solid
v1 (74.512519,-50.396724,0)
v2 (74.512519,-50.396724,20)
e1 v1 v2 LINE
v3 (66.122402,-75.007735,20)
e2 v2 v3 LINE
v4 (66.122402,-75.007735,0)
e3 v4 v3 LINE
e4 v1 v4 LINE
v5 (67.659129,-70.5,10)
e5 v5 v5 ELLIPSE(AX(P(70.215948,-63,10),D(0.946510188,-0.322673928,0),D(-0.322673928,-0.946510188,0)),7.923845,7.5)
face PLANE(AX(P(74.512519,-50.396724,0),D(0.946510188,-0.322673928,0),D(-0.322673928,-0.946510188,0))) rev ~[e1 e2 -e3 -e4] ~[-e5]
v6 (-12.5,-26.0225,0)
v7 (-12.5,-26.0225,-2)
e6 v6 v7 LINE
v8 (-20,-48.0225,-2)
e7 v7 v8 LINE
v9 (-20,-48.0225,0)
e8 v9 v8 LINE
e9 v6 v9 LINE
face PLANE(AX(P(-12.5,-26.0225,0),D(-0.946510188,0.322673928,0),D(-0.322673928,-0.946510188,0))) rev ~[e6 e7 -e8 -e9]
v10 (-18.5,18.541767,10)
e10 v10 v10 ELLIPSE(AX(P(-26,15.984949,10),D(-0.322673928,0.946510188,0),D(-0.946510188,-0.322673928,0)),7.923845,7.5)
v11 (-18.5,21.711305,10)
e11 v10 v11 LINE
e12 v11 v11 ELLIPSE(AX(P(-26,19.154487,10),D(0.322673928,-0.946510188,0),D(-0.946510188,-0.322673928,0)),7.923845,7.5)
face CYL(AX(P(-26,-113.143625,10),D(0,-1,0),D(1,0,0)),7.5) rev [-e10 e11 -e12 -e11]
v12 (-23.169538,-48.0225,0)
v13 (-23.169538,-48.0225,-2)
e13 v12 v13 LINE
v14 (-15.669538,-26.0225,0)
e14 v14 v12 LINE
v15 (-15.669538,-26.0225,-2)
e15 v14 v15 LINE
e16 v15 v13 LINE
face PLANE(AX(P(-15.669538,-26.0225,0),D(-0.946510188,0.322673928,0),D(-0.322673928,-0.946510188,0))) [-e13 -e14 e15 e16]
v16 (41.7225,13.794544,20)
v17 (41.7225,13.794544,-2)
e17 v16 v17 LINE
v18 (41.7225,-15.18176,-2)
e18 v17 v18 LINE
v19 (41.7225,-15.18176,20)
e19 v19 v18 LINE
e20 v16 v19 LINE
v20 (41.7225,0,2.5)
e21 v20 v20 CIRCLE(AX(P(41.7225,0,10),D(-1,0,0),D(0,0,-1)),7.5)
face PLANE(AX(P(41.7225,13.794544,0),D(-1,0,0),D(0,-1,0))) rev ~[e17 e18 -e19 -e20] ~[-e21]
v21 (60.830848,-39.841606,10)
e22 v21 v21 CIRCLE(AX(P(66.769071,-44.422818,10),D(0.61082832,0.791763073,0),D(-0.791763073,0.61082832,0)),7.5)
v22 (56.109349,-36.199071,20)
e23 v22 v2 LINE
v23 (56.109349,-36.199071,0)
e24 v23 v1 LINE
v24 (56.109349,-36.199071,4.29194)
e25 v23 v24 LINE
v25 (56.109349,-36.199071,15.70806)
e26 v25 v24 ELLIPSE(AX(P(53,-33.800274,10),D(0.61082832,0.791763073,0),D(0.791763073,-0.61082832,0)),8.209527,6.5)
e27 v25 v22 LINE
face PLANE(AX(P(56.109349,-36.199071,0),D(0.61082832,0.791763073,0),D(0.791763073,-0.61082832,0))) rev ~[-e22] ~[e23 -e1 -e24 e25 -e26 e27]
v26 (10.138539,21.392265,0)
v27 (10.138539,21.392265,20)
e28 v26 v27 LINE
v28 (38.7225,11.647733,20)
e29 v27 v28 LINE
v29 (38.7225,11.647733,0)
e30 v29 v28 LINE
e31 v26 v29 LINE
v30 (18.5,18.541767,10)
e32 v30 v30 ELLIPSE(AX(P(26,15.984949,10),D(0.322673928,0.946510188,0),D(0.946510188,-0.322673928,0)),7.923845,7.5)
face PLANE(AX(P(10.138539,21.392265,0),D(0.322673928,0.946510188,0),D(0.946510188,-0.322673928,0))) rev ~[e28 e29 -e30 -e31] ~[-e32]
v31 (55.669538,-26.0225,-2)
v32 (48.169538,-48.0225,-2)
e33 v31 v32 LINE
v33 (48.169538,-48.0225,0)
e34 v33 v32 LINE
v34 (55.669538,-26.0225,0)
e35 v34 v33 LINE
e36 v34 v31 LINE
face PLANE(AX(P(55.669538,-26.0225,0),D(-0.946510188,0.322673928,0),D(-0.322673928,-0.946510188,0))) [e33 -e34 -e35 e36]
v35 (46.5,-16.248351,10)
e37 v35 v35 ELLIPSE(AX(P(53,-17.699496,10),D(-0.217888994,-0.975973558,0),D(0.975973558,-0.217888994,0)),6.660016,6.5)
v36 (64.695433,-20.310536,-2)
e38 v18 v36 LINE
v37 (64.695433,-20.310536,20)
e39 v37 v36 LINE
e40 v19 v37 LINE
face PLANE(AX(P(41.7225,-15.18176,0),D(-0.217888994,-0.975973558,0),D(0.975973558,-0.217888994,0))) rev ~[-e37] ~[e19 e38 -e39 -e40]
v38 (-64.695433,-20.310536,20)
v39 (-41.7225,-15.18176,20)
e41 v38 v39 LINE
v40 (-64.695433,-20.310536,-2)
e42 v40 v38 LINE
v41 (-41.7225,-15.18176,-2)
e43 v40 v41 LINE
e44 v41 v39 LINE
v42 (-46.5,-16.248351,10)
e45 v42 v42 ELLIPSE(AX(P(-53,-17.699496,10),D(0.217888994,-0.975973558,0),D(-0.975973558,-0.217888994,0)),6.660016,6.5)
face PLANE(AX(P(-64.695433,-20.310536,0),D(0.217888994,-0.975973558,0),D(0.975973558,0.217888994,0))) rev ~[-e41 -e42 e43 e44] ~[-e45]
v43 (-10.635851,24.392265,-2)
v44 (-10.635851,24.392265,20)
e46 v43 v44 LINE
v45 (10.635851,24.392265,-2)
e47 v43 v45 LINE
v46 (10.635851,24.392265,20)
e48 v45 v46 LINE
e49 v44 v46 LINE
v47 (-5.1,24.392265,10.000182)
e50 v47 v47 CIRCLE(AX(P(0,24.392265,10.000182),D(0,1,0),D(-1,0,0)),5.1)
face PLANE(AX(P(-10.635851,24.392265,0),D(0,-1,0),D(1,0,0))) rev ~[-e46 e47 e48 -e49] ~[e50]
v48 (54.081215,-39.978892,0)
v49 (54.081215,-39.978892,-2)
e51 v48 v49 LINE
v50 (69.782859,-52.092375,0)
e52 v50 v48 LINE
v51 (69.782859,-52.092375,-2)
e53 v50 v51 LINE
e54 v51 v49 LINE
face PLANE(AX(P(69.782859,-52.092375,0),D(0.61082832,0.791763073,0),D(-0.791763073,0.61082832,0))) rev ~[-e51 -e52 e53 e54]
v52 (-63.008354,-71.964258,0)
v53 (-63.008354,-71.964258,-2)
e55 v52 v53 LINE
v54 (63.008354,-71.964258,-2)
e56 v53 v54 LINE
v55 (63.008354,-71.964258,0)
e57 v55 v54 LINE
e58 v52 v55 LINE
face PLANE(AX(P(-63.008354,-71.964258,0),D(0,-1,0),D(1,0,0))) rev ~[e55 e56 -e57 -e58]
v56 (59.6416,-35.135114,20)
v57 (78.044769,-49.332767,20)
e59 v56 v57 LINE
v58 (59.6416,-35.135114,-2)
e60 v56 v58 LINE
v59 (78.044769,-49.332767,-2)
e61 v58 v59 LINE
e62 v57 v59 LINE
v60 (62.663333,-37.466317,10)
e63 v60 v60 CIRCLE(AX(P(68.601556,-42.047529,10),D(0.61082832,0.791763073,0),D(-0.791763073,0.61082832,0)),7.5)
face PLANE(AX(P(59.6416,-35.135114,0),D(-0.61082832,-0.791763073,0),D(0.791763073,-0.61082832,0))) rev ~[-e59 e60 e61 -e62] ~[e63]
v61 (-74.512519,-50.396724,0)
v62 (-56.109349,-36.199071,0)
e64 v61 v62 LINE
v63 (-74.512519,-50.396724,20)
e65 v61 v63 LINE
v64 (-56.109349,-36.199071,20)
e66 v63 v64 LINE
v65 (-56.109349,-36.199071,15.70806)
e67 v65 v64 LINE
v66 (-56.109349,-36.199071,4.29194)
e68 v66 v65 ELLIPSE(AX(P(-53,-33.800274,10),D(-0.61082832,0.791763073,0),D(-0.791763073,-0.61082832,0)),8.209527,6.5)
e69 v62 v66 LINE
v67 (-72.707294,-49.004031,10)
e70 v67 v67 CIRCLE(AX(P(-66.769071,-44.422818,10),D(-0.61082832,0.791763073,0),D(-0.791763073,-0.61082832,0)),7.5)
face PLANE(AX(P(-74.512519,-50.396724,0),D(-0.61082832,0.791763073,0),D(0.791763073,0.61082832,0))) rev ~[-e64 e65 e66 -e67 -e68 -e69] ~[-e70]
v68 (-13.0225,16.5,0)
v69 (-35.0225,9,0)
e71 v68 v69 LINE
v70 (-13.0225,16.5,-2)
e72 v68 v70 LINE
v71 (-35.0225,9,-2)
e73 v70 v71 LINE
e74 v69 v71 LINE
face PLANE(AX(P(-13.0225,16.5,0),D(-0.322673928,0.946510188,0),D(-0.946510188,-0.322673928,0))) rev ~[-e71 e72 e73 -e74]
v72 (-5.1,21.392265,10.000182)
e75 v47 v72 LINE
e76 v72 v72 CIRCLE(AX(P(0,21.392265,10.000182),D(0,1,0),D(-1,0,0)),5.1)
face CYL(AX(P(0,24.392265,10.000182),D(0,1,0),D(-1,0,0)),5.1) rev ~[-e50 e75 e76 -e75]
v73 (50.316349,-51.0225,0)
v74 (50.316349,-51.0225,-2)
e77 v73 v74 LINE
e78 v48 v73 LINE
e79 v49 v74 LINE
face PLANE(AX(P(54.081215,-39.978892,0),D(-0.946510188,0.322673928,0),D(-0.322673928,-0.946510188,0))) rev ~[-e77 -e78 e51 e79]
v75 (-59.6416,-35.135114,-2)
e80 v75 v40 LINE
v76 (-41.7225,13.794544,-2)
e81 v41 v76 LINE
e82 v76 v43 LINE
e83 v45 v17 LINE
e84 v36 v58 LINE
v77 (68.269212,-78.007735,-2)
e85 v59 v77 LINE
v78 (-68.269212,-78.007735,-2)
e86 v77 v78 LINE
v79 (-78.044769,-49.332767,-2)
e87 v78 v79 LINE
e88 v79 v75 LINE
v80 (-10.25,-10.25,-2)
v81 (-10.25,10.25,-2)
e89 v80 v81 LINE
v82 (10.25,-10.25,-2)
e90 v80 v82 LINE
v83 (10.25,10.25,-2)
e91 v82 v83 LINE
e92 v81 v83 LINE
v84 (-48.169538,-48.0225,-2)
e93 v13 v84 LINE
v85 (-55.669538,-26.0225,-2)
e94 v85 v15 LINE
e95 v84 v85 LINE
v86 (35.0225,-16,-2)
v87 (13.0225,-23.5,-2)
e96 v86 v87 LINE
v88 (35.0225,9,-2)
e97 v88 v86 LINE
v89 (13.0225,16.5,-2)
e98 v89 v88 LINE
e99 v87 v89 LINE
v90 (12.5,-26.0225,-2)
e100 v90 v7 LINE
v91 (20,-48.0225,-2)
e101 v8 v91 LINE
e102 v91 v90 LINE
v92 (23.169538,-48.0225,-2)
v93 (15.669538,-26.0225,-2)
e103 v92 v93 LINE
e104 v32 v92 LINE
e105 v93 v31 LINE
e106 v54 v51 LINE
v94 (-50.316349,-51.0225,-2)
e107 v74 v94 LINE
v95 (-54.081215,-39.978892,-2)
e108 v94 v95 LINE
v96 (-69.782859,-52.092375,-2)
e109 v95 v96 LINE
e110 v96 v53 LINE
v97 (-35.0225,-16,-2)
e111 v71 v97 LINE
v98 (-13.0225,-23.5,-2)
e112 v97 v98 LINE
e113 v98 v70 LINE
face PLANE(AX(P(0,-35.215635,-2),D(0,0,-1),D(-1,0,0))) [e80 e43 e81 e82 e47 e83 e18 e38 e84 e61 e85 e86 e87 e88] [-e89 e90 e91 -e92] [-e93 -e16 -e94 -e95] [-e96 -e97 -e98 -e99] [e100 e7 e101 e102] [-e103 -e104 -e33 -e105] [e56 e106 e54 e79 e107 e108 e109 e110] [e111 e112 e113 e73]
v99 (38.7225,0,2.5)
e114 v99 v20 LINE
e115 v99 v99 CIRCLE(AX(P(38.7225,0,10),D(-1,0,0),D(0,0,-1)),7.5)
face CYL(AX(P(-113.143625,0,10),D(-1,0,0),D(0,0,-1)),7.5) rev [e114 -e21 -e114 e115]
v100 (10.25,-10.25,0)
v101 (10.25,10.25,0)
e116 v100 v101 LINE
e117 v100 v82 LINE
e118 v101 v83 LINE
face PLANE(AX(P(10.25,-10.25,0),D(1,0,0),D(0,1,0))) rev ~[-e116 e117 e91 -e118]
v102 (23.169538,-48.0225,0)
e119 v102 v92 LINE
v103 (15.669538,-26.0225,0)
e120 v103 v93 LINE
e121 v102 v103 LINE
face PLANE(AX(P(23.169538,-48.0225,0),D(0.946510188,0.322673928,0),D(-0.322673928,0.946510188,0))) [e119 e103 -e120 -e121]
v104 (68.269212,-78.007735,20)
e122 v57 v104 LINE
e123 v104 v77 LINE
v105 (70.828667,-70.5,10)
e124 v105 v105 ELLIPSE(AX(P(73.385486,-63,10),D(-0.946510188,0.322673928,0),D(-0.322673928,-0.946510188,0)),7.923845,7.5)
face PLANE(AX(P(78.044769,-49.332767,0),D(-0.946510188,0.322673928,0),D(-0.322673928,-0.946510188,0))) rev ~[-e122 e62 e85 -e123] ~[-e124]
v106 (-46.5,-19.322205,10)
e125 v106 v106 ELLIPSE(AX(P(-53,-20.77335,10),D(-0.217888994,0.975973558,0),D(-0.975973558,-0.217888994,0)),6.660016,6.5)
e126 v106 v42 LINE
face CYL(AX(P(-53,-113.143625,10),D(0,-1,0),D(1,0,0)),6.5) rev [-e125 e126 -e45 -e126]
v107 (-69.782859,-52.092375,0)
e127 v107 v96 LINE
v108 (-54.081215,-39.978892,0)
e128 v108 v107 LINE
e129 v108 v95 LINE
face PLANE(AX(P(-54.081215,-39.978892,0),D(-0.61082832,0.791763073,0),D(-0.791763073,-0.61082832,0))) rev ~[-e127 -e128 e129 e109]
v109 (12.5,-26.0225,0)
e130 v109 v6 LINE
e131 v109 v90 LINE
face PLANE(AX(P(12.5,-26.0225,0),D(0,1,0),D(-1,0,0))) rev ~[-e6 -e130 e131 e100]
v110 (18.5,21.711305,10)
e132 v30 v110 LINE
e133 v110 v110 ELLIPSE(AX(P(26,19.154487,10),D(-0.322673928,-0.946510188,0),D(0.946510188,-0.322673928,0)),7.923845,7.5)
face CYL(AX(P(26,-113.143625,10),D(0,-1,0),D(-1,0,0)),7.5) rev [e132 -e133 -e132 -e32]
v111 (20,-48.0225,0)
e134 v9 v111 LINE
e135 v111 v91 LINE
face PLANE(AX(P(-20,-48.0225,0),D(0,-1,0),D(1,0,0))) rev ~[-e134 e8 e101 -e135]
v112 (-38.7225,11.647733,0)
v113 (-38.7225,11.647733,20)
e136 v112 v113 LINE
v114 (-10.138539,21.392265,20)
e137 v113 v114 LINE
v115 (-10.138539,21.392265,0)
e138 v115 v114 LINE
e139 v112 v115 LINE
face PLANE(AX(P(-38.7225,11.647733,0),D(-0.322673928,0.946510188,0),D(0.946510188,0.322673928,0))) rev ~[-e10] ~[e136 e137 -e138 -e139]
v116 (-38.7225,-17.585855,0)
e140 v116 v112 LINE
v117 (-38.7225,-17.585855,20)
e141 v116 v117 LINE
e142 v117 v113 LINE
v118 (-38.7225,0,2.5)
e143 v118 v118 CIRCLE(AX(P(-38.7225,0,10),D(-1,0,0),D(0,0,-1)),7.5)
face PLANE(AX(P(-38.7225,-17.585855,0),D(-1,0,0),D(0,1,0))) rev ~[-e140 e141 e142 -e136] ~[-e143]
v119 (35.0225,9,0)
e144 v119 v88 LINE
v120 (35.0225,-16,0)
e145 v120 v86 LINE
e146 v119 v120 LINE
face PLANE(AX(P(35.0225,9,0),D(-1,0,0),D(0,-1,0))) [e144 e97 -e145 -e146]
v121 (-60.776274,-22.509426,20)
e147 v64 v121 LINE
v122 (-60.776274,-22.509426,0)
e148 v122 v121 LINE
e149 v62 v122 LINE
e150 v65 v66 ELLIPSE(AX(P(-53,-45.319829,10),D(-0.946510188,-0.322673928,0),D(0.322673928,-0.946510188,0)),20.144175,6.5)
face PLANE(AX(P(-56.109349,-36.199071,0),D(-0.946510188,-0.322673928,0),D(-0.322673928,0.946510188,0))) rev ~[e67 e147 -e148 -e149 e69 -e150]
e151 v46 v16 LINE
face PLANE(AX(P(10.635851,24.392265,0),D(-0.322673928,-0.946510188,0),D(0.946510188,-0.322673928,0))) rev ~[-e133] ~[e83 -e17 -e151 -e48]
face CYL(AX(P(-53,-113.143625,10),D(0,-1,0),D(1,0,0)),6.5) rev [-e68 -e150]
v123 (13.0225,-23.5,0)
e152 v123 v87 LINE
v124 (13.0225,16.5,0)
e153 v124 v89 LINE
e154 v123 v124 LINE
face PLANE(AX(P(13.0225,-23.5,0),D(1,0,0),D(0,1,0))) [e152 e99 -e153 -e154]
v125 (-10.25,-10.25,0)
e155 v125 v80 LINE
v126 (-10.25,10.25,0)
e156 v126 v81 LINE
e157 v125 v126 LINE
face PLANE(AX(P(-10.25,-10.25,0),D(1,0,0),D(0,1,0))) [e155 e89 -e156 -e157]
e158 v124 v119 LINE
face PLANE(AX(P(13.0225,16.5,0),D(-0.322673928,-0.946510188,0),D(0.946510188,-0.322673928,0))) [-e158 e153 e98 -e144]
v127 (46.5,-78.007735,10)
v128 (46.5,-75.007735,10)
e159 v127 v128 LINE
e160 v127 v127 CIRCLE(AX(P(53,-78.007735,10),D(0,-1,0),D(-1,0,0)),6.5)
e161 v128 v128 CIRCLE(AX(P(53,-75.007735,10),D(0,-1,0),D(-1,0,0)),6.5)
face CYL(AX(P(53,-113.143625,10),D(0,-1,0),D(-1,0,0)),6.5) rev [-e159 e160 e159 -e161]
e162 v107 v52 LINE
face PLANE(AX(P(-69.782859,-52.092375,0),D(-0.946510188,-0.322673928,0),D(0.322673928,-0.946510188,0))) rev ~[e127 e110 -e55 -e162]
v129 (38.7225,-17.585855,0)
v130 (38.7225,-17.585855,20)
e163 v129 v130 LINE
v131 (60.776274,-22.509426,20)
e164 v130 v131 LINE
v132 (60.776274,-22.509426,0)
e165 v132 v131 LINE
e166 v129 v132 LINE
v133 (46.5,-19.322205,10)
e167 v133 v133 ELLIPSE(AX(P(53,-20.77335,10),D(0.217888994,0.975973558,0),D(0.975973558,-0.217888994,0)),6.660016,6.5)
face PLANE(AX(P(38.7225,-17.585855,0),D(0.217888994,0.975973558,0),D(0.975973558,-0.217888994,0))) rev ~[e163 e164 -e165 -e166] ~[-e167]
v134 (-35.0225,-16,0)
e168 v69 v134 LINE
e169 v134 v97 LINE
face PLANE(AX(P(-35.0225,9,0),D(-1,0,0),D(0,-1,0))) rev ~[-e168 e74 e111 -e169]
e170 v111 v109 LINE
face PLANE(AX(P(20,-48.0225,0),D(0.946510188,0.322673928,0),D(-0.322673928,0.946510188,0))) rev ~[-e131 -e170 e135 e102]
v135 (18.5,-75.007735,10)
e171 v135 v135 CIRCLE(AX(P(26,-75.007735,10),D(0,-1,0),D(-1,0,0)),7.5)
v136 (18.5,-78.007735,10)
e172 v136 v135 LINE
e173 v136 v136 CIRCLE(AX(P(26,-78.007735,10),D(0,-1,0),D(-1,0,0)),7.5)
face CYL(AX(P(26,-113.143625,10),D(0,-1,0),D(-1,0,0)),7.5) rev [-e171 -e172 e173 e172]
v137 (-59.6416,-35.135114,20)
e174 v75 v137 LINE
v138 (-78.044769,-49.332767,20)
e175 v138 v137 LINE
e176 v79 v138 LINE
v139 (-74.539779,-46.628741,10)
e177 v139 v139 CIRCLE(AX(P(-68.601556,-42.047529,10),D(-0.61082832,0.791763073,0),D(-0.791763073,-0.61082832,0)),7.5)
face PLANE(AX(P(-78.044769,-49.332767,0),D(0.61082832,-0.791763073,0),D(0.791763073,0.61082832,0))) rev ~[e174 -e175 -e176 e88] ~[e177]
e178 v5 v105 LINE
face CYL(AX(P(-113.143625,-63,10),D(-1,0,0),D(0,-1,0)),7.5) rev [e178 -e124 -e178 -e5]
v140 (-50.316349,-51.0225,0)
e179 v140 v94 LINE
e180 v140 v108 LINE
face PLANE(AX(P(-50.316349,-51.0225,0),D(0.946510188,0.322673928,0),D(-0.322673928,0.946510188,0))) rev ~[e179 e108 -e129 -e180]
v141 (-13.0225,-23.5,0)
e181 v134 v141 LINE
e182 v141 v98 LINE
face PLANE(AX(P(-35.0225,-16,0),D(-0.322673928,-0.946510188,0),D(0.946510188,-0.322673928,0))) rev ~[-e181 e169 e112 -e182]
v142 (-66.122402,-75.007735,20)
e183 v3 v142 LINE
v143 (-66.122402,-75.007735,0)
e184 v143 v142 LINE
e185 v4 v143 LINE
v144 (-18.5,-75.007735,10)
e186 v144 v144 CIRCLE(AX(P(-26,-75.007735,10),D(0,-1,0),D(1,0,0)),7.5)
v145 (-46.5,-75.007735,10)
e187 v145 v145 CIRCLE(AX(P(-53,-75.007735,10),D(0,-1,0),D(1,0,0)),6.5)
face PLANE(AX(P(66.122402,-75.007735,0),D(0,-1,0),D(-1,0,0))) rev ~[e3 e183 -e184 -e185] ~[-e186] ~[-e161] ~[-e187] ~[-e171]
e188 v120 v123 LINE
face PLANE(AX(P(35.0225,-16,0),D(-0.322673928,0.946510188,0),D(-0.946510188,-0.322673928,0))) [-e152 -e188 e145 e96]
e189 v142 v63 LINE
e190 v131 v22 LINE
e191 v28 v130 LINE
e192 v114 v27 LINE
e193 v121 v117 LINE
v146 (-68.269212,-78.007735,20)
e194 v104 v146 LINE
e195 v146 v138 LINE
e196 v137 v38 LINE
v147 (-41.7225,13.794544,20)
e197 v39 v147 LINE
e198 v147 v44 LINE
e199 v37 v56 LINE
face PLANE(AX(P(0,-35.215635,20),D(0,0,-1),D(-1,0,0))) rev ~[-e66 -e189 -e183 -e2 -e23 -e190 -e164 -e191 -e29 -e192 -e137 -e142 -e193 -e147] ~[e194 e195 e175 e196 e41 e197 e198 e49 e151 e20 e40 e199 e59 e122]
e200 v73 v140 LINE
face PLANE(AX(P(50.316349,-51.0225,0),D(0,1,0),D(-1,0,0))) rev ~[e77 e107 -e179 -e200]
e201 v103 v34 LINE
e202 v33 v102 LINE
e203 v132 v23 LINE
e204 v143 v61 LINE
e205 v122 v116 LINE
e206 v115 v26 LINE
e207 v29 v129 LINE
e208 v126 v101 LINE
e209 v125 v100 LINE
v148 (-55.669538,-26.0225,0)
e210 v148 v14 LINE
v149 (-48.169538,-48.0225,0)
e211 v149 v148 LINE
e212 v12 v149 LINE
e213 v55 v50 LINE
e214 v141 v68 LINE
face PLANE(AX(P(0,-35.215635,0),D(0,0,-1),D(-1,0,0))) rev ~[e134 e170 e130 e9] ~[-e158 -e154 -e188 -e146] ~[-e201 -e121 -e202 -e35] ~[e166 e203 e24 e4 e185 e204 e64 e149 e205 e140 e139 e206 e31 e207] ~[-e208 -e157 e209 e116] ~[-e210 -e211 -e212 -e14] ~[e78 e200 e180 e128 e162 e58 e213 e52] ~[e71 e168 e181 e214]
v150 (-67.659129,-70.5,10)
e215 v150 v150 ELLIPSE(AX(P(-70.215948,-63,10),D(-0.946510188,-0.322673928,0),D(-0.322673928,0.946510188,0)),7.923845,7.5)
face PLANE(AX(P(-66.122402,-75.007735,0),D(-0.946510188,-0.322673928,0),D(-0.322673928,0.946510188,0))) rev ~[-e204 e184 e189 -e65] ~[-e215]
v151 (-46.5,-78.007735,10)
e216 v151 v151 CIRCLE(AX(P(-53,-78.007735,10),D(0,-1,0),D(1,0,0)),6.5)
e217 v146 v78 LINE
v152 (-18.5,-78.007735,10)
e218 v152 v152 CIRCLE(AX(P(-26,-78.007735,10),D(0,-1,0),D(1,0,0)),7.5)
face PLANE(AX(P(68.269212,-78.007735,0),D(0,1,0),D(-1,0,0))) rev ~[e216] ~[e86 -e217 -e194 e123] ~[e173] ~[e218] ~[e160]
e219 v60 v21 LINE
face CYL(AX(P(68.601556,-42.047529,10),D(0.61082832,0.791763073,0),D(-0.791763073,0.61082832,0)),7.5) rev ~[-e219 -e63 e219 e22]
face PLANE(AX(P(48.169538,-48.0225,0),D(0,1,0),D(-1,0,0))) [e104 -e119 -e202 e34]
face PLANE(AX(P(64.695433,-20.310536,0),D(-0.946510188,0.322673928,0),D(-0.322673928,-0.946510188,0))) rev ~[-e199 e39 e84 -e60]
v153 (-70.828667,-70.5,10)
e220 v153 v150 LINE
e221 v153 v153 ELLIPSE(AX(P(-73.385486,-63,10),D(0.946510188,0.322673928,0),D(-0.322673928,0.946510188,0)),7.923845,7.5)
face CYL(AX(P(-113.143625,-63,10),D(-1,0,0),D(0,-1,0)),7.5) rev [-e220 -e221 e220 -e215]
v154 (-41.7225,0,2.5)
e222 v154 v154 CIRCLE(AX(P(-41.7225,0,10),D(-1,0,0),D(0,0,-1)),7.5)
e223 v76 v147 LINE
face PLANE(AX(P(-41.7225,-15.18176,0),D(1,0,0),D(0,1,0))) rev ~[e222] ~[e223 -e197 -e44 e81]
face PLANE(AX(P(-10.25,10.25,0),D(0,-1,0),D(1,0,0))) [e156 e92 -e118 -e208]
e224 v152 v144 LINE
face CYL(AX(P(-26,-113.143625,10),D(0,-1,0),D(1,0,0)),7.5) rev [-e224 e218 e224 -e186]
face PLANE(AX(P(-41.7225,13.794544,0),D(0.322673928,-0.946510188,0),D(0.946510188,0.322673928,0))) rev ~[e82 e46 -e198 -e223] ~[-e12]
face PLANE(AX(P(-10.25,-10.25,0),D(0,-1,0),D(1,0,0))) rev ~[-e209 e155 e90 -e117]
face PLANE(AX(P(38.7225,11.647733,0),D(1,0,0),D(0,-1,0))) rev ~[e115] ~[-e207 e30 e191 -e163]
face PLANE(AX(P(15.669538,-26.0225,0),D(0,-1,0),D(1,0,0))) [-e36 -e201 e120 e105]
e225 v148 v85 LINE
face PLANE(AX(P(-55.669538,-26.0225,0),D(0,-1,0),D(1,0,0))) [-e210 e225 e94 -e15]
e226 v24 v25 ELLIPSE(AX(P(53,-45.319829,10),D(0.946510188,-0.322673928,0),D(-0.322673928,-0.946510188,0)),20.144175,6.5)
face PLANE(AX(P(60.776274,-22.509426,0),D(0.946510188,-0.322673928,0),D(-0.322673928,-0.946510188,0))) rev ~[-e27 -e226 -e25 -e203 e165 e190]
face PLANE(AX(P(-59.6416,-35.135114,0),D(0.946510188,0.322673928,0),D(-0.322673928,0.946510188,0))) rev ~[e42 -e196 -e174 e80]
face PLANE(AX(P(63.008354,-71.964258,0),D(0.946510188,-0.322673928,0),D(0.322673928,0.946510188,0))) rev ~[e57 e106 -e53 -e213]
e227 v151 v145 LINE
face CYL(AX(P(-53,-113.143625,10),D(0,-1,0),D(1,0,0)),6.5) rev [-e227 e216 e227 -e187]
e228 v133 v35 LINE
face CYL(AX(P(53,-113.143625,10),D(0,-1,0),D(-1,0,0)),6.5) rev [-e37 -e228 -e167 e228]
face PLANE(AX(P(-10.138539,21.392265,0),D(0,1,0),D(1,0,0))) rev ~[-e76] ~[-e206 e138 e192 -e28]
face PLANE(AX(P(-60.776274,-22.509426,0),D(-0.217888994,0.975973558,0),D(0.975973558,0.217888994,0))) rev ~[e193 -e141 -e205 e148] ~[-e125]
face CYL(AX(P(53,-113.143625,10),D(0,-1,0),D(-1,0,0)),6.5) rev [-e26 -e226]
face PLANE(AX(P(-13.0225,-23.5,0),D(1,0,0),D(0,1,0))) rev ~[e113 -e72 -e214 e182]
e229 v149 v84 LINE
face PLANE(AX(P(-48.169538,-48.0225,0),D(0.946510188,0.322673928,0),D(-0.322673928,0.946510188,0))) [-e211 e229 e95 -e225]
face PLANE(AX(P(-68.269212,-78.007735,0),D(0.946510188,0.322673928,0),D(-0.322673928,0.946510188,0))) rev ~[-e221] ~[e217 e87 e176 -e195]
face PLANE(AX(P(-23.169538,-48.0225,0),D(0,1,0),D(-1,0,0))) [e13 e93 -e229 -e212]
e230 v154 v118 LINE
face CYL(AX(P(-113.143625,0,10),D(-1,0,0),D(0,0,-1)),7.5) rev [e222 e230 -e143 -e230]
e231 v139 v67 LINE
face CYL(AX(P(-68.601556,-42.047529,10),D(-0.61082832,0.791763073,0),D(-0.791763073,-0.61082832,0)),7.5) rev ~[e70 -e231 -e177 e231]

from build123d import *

# Parameters (mm, degrees)
EXTRUDE_THIN3_DEPTH     = 20
SKETCH5_W               = 20.5
SKETCH5_H               = 20.5
BOSS_EXTRUDE2_DEPTH     = 2
SKETCH6_R               = 5.1
CUT_EXTRUDE1_DEPTH      = 5
CUT_EXTRUDE2_DEPTH      = 113.143625411
CUT_EXTRUDE2_DEPTH_BACK = 113.143625411
SKETCH7_R               = 7.5
SKETCH7_R_2             = 6.5
CUT_EXTRUDE3_DEPTH      = 113.143625411
CUT_EXTRUDE3_DEPTH_BACK = 113.143625411
SKETCH8_R               = 7.5
SKETCH9_R               = 7.5
CUT_EXTRUDE4_DEPTH      = 5
SKETCH10_R              = 7.5
CUT_EXTRUDE5_DEPTH      = 5


with BuildPart() as part:
    # Sketch4 → Extrude-Thin3 (new body)
    with BuildSketch(Plane.XY):
        Polygon((68.26921232, -78.007734737), (-68.26921232, -78.007734737), (-78.04476947, -49.332767098), (-59.641599788, -35.135114275), (-64.69543331, -20.310535944), (-41.7225, -15.181760387), (-41.7225, 13.794543937), (-10.635850775, 24.392265263), (10.635850775, 24.392265263), (41.7225, 13.794543937), (41.7225, -15.181760387), (64.69543331, -20.310535944), (59.641599788, -35.135114275), (78.04476947, -49.332767098), align=None)
        Polygon((66.122401602, -75.007734737), (-66.122401602, -75.007734737), (-74.512519059, -50.396723531), (-56.109349377, -36.199070708), (-60.776273805, -22.509425719), (-38.7225, -17.58585525), (-38.7225, 11.647733219), (-10.138539336, 21.392265263), (10.138539336, 21.392265263), (38.7225, 11.647733219), (38.7225, -17.58585525), (60.776273805, -22.509425719), (56.109349377, -36.199070708), (74.512519059, -50.396723531), align=None, mode=Mode.SUBTRACT)
    extrude(amount=EXTRUDE_THIN3_DEPTH)

    # Sketch5 → Boss-Extrude2 (add)
    with BuildSketch(Plane.XY):
        Polygon((10.635850775, 24.392265263), (41.7225, 13.794543937), (41.7225, -15.181760387), (64.69543331, -20.310535944), (59.641599788, -35.135114275), (78.04476947, -49.332767098), (68.26921232, -78.007734737), (-68.26921232, -78.007734737), (-78.04476947, -49.332767098), (-59.641599788, -35.135114275), (-64.69543331, -20.310535944), (-41.7225, -15.181760387), (-41.7225, 13.794543937), (-10.635850775, 24.392265263), align=None)
        Rectangle(SKETCH5_W, SKETCH5_H, mode=Mode.SUBTRACT)
        Polygon((55.669537991, -26.0225), (48.169537991, -48.0225), (23.169537991, -48.0225), (15.669537991, -26.0225), align=None, mode=Mode.SUBTRACT)
        Polygon((-20, -48.0225), (20, -48.0225), (12.5, -26.0225), (-12.5, -26.0225), align=None, mode=Mode.SUBTRACT)
        Polygon((-15.669537991, -26.0225), (-23.169537991, -48.0225), (-48.169537991, -48.0225), (-55.669537991, -26.0225), align=None, mode=Mode.SUBTRACT)
        Polygon((13.0225, 16.5), (35.0225, 9), (35.0225, -16), (13.0225, -23.5), align=None, mode=Mode.SUBTRACT)
        Polygon((-35.0225, -16), (-13.0225, -23.5), (-13.0225, 16.5), (-35.0225, 9), align=None, mode=Mode.SUBTRACT)
        Polygon((-54.081215036, -39.978892106), (-69.782858952, -52.092375431), (-63.008353643, -71.964257668), (63.008353643, -71.964257668), (69.782858952, -52.092375431), (54.081215036, -39.978892106), (50.316348709, -51.0225), (-50.316348709, -51.0225), align=None, mode=Mode.SUBTRACT)
    extrude(amount=-BOSS_EXTRUDE2_DEPTH)

    # Sketch6 → Cut-Extrude1 (cut)
    with BuildSketch(Plane(origin=(0, 24.392265263, 0), x_dir=(1, 0, 0), z_dir=(0, 1, 0))):
        with Locations(Location((0, -10.000182073, 0), (0, 0, 180))):
            Circle(SKETCH6_R)
    extrude(amount=-CUT_EXTRUDE1_DEPTH, mode=Mode.SUBTRACT)

    # Sketch7 → Cut-Extrude2 (cut, two sides: drawn at the far end of the back side and taken through both)
    with BuildSketch(Plane(origin=(0, 0, 0), x_dir=(1, 0, 0), z_dir=(0, 1, 0)).offset(-CUT_EXTRUDE2_DEPTH_BACK)):
        with Locations((-26, -10)):
            Circle(SKETCH7_R)
        with Locations((-53, -10)):
            Circle(SKETCH7_R_2)
        with Locations(Location((26, -10, 0), (0, 0, 180))):
            Circle(SKETCH7_R)
        with Locations(Location((53, -10, 0), (0, 0, 180))):
            Circle(SKETCH7_R_2)
    extrude(amount=CUT_EXTRUDE2_DEPTH + CUT_EXTRUDE2_DEPTH_BACK, mode=Mode.SUBTRACT)

    # Sketch8 → Cut-Extrude3 (cut, two sides: drawn at the far end of the back side and taken through both)
    with BuildSketch(Plane(origin=(0, 0, 0), x_dir=(0, 0, -1), z_dir=(1, 0, 0)).offset(-CUT_EXTRUDE3_DEPTH_BACK)):
        with Locations((-10, 0)):
            Circle(SKETCH8_R)
        with Locations(Location((-10, -63, 0), (0, 0, 270))):
            Circle(SKETCH8_R)
    extrude(amount=CUT_EXTRUDE3_DEPTH + CUT_EXTRUDE3_DEPTH_BACK, mode=Mode.SUBTRACT)

    # Sketch9 → Cut-Extrude4 (cut)
    with BuildSketch(Plane(origin=(5.260509798, 6.818736564, 0), x_dir=(0.7917630726515511, -0.6108283202221183, 0), z_dir=(0.6108283202221182, 0.791763072651551, 0))):
        with Locations(Location((80, -10, 0), (0, 0, 180))):
            Circle(SKETCH9_R)
    extrude(amount=-CUT_EXTRUDE4_DEPTH, mode=Mode.SUBTRACT)

    # Sketch10 → Cut-Extrude5 (cut)
    with BuildSketch(Plane(origin=(-5.260509798, 6.818736564, 0), x_dir=(0.7917630726515507, 0.6108283202221189, 0), z_dir=(-0.6108283202221189, 0.7917630726515507, 0))):
        with Locations(Location((-80, -10, 0), (0, 0, 180))):
            Circle(SKETCH10_R)
    extrude(amount=-CUT_EXTRUDE5_DEPTH, mode=Mode.SUBTRACT)


solid = part.part
